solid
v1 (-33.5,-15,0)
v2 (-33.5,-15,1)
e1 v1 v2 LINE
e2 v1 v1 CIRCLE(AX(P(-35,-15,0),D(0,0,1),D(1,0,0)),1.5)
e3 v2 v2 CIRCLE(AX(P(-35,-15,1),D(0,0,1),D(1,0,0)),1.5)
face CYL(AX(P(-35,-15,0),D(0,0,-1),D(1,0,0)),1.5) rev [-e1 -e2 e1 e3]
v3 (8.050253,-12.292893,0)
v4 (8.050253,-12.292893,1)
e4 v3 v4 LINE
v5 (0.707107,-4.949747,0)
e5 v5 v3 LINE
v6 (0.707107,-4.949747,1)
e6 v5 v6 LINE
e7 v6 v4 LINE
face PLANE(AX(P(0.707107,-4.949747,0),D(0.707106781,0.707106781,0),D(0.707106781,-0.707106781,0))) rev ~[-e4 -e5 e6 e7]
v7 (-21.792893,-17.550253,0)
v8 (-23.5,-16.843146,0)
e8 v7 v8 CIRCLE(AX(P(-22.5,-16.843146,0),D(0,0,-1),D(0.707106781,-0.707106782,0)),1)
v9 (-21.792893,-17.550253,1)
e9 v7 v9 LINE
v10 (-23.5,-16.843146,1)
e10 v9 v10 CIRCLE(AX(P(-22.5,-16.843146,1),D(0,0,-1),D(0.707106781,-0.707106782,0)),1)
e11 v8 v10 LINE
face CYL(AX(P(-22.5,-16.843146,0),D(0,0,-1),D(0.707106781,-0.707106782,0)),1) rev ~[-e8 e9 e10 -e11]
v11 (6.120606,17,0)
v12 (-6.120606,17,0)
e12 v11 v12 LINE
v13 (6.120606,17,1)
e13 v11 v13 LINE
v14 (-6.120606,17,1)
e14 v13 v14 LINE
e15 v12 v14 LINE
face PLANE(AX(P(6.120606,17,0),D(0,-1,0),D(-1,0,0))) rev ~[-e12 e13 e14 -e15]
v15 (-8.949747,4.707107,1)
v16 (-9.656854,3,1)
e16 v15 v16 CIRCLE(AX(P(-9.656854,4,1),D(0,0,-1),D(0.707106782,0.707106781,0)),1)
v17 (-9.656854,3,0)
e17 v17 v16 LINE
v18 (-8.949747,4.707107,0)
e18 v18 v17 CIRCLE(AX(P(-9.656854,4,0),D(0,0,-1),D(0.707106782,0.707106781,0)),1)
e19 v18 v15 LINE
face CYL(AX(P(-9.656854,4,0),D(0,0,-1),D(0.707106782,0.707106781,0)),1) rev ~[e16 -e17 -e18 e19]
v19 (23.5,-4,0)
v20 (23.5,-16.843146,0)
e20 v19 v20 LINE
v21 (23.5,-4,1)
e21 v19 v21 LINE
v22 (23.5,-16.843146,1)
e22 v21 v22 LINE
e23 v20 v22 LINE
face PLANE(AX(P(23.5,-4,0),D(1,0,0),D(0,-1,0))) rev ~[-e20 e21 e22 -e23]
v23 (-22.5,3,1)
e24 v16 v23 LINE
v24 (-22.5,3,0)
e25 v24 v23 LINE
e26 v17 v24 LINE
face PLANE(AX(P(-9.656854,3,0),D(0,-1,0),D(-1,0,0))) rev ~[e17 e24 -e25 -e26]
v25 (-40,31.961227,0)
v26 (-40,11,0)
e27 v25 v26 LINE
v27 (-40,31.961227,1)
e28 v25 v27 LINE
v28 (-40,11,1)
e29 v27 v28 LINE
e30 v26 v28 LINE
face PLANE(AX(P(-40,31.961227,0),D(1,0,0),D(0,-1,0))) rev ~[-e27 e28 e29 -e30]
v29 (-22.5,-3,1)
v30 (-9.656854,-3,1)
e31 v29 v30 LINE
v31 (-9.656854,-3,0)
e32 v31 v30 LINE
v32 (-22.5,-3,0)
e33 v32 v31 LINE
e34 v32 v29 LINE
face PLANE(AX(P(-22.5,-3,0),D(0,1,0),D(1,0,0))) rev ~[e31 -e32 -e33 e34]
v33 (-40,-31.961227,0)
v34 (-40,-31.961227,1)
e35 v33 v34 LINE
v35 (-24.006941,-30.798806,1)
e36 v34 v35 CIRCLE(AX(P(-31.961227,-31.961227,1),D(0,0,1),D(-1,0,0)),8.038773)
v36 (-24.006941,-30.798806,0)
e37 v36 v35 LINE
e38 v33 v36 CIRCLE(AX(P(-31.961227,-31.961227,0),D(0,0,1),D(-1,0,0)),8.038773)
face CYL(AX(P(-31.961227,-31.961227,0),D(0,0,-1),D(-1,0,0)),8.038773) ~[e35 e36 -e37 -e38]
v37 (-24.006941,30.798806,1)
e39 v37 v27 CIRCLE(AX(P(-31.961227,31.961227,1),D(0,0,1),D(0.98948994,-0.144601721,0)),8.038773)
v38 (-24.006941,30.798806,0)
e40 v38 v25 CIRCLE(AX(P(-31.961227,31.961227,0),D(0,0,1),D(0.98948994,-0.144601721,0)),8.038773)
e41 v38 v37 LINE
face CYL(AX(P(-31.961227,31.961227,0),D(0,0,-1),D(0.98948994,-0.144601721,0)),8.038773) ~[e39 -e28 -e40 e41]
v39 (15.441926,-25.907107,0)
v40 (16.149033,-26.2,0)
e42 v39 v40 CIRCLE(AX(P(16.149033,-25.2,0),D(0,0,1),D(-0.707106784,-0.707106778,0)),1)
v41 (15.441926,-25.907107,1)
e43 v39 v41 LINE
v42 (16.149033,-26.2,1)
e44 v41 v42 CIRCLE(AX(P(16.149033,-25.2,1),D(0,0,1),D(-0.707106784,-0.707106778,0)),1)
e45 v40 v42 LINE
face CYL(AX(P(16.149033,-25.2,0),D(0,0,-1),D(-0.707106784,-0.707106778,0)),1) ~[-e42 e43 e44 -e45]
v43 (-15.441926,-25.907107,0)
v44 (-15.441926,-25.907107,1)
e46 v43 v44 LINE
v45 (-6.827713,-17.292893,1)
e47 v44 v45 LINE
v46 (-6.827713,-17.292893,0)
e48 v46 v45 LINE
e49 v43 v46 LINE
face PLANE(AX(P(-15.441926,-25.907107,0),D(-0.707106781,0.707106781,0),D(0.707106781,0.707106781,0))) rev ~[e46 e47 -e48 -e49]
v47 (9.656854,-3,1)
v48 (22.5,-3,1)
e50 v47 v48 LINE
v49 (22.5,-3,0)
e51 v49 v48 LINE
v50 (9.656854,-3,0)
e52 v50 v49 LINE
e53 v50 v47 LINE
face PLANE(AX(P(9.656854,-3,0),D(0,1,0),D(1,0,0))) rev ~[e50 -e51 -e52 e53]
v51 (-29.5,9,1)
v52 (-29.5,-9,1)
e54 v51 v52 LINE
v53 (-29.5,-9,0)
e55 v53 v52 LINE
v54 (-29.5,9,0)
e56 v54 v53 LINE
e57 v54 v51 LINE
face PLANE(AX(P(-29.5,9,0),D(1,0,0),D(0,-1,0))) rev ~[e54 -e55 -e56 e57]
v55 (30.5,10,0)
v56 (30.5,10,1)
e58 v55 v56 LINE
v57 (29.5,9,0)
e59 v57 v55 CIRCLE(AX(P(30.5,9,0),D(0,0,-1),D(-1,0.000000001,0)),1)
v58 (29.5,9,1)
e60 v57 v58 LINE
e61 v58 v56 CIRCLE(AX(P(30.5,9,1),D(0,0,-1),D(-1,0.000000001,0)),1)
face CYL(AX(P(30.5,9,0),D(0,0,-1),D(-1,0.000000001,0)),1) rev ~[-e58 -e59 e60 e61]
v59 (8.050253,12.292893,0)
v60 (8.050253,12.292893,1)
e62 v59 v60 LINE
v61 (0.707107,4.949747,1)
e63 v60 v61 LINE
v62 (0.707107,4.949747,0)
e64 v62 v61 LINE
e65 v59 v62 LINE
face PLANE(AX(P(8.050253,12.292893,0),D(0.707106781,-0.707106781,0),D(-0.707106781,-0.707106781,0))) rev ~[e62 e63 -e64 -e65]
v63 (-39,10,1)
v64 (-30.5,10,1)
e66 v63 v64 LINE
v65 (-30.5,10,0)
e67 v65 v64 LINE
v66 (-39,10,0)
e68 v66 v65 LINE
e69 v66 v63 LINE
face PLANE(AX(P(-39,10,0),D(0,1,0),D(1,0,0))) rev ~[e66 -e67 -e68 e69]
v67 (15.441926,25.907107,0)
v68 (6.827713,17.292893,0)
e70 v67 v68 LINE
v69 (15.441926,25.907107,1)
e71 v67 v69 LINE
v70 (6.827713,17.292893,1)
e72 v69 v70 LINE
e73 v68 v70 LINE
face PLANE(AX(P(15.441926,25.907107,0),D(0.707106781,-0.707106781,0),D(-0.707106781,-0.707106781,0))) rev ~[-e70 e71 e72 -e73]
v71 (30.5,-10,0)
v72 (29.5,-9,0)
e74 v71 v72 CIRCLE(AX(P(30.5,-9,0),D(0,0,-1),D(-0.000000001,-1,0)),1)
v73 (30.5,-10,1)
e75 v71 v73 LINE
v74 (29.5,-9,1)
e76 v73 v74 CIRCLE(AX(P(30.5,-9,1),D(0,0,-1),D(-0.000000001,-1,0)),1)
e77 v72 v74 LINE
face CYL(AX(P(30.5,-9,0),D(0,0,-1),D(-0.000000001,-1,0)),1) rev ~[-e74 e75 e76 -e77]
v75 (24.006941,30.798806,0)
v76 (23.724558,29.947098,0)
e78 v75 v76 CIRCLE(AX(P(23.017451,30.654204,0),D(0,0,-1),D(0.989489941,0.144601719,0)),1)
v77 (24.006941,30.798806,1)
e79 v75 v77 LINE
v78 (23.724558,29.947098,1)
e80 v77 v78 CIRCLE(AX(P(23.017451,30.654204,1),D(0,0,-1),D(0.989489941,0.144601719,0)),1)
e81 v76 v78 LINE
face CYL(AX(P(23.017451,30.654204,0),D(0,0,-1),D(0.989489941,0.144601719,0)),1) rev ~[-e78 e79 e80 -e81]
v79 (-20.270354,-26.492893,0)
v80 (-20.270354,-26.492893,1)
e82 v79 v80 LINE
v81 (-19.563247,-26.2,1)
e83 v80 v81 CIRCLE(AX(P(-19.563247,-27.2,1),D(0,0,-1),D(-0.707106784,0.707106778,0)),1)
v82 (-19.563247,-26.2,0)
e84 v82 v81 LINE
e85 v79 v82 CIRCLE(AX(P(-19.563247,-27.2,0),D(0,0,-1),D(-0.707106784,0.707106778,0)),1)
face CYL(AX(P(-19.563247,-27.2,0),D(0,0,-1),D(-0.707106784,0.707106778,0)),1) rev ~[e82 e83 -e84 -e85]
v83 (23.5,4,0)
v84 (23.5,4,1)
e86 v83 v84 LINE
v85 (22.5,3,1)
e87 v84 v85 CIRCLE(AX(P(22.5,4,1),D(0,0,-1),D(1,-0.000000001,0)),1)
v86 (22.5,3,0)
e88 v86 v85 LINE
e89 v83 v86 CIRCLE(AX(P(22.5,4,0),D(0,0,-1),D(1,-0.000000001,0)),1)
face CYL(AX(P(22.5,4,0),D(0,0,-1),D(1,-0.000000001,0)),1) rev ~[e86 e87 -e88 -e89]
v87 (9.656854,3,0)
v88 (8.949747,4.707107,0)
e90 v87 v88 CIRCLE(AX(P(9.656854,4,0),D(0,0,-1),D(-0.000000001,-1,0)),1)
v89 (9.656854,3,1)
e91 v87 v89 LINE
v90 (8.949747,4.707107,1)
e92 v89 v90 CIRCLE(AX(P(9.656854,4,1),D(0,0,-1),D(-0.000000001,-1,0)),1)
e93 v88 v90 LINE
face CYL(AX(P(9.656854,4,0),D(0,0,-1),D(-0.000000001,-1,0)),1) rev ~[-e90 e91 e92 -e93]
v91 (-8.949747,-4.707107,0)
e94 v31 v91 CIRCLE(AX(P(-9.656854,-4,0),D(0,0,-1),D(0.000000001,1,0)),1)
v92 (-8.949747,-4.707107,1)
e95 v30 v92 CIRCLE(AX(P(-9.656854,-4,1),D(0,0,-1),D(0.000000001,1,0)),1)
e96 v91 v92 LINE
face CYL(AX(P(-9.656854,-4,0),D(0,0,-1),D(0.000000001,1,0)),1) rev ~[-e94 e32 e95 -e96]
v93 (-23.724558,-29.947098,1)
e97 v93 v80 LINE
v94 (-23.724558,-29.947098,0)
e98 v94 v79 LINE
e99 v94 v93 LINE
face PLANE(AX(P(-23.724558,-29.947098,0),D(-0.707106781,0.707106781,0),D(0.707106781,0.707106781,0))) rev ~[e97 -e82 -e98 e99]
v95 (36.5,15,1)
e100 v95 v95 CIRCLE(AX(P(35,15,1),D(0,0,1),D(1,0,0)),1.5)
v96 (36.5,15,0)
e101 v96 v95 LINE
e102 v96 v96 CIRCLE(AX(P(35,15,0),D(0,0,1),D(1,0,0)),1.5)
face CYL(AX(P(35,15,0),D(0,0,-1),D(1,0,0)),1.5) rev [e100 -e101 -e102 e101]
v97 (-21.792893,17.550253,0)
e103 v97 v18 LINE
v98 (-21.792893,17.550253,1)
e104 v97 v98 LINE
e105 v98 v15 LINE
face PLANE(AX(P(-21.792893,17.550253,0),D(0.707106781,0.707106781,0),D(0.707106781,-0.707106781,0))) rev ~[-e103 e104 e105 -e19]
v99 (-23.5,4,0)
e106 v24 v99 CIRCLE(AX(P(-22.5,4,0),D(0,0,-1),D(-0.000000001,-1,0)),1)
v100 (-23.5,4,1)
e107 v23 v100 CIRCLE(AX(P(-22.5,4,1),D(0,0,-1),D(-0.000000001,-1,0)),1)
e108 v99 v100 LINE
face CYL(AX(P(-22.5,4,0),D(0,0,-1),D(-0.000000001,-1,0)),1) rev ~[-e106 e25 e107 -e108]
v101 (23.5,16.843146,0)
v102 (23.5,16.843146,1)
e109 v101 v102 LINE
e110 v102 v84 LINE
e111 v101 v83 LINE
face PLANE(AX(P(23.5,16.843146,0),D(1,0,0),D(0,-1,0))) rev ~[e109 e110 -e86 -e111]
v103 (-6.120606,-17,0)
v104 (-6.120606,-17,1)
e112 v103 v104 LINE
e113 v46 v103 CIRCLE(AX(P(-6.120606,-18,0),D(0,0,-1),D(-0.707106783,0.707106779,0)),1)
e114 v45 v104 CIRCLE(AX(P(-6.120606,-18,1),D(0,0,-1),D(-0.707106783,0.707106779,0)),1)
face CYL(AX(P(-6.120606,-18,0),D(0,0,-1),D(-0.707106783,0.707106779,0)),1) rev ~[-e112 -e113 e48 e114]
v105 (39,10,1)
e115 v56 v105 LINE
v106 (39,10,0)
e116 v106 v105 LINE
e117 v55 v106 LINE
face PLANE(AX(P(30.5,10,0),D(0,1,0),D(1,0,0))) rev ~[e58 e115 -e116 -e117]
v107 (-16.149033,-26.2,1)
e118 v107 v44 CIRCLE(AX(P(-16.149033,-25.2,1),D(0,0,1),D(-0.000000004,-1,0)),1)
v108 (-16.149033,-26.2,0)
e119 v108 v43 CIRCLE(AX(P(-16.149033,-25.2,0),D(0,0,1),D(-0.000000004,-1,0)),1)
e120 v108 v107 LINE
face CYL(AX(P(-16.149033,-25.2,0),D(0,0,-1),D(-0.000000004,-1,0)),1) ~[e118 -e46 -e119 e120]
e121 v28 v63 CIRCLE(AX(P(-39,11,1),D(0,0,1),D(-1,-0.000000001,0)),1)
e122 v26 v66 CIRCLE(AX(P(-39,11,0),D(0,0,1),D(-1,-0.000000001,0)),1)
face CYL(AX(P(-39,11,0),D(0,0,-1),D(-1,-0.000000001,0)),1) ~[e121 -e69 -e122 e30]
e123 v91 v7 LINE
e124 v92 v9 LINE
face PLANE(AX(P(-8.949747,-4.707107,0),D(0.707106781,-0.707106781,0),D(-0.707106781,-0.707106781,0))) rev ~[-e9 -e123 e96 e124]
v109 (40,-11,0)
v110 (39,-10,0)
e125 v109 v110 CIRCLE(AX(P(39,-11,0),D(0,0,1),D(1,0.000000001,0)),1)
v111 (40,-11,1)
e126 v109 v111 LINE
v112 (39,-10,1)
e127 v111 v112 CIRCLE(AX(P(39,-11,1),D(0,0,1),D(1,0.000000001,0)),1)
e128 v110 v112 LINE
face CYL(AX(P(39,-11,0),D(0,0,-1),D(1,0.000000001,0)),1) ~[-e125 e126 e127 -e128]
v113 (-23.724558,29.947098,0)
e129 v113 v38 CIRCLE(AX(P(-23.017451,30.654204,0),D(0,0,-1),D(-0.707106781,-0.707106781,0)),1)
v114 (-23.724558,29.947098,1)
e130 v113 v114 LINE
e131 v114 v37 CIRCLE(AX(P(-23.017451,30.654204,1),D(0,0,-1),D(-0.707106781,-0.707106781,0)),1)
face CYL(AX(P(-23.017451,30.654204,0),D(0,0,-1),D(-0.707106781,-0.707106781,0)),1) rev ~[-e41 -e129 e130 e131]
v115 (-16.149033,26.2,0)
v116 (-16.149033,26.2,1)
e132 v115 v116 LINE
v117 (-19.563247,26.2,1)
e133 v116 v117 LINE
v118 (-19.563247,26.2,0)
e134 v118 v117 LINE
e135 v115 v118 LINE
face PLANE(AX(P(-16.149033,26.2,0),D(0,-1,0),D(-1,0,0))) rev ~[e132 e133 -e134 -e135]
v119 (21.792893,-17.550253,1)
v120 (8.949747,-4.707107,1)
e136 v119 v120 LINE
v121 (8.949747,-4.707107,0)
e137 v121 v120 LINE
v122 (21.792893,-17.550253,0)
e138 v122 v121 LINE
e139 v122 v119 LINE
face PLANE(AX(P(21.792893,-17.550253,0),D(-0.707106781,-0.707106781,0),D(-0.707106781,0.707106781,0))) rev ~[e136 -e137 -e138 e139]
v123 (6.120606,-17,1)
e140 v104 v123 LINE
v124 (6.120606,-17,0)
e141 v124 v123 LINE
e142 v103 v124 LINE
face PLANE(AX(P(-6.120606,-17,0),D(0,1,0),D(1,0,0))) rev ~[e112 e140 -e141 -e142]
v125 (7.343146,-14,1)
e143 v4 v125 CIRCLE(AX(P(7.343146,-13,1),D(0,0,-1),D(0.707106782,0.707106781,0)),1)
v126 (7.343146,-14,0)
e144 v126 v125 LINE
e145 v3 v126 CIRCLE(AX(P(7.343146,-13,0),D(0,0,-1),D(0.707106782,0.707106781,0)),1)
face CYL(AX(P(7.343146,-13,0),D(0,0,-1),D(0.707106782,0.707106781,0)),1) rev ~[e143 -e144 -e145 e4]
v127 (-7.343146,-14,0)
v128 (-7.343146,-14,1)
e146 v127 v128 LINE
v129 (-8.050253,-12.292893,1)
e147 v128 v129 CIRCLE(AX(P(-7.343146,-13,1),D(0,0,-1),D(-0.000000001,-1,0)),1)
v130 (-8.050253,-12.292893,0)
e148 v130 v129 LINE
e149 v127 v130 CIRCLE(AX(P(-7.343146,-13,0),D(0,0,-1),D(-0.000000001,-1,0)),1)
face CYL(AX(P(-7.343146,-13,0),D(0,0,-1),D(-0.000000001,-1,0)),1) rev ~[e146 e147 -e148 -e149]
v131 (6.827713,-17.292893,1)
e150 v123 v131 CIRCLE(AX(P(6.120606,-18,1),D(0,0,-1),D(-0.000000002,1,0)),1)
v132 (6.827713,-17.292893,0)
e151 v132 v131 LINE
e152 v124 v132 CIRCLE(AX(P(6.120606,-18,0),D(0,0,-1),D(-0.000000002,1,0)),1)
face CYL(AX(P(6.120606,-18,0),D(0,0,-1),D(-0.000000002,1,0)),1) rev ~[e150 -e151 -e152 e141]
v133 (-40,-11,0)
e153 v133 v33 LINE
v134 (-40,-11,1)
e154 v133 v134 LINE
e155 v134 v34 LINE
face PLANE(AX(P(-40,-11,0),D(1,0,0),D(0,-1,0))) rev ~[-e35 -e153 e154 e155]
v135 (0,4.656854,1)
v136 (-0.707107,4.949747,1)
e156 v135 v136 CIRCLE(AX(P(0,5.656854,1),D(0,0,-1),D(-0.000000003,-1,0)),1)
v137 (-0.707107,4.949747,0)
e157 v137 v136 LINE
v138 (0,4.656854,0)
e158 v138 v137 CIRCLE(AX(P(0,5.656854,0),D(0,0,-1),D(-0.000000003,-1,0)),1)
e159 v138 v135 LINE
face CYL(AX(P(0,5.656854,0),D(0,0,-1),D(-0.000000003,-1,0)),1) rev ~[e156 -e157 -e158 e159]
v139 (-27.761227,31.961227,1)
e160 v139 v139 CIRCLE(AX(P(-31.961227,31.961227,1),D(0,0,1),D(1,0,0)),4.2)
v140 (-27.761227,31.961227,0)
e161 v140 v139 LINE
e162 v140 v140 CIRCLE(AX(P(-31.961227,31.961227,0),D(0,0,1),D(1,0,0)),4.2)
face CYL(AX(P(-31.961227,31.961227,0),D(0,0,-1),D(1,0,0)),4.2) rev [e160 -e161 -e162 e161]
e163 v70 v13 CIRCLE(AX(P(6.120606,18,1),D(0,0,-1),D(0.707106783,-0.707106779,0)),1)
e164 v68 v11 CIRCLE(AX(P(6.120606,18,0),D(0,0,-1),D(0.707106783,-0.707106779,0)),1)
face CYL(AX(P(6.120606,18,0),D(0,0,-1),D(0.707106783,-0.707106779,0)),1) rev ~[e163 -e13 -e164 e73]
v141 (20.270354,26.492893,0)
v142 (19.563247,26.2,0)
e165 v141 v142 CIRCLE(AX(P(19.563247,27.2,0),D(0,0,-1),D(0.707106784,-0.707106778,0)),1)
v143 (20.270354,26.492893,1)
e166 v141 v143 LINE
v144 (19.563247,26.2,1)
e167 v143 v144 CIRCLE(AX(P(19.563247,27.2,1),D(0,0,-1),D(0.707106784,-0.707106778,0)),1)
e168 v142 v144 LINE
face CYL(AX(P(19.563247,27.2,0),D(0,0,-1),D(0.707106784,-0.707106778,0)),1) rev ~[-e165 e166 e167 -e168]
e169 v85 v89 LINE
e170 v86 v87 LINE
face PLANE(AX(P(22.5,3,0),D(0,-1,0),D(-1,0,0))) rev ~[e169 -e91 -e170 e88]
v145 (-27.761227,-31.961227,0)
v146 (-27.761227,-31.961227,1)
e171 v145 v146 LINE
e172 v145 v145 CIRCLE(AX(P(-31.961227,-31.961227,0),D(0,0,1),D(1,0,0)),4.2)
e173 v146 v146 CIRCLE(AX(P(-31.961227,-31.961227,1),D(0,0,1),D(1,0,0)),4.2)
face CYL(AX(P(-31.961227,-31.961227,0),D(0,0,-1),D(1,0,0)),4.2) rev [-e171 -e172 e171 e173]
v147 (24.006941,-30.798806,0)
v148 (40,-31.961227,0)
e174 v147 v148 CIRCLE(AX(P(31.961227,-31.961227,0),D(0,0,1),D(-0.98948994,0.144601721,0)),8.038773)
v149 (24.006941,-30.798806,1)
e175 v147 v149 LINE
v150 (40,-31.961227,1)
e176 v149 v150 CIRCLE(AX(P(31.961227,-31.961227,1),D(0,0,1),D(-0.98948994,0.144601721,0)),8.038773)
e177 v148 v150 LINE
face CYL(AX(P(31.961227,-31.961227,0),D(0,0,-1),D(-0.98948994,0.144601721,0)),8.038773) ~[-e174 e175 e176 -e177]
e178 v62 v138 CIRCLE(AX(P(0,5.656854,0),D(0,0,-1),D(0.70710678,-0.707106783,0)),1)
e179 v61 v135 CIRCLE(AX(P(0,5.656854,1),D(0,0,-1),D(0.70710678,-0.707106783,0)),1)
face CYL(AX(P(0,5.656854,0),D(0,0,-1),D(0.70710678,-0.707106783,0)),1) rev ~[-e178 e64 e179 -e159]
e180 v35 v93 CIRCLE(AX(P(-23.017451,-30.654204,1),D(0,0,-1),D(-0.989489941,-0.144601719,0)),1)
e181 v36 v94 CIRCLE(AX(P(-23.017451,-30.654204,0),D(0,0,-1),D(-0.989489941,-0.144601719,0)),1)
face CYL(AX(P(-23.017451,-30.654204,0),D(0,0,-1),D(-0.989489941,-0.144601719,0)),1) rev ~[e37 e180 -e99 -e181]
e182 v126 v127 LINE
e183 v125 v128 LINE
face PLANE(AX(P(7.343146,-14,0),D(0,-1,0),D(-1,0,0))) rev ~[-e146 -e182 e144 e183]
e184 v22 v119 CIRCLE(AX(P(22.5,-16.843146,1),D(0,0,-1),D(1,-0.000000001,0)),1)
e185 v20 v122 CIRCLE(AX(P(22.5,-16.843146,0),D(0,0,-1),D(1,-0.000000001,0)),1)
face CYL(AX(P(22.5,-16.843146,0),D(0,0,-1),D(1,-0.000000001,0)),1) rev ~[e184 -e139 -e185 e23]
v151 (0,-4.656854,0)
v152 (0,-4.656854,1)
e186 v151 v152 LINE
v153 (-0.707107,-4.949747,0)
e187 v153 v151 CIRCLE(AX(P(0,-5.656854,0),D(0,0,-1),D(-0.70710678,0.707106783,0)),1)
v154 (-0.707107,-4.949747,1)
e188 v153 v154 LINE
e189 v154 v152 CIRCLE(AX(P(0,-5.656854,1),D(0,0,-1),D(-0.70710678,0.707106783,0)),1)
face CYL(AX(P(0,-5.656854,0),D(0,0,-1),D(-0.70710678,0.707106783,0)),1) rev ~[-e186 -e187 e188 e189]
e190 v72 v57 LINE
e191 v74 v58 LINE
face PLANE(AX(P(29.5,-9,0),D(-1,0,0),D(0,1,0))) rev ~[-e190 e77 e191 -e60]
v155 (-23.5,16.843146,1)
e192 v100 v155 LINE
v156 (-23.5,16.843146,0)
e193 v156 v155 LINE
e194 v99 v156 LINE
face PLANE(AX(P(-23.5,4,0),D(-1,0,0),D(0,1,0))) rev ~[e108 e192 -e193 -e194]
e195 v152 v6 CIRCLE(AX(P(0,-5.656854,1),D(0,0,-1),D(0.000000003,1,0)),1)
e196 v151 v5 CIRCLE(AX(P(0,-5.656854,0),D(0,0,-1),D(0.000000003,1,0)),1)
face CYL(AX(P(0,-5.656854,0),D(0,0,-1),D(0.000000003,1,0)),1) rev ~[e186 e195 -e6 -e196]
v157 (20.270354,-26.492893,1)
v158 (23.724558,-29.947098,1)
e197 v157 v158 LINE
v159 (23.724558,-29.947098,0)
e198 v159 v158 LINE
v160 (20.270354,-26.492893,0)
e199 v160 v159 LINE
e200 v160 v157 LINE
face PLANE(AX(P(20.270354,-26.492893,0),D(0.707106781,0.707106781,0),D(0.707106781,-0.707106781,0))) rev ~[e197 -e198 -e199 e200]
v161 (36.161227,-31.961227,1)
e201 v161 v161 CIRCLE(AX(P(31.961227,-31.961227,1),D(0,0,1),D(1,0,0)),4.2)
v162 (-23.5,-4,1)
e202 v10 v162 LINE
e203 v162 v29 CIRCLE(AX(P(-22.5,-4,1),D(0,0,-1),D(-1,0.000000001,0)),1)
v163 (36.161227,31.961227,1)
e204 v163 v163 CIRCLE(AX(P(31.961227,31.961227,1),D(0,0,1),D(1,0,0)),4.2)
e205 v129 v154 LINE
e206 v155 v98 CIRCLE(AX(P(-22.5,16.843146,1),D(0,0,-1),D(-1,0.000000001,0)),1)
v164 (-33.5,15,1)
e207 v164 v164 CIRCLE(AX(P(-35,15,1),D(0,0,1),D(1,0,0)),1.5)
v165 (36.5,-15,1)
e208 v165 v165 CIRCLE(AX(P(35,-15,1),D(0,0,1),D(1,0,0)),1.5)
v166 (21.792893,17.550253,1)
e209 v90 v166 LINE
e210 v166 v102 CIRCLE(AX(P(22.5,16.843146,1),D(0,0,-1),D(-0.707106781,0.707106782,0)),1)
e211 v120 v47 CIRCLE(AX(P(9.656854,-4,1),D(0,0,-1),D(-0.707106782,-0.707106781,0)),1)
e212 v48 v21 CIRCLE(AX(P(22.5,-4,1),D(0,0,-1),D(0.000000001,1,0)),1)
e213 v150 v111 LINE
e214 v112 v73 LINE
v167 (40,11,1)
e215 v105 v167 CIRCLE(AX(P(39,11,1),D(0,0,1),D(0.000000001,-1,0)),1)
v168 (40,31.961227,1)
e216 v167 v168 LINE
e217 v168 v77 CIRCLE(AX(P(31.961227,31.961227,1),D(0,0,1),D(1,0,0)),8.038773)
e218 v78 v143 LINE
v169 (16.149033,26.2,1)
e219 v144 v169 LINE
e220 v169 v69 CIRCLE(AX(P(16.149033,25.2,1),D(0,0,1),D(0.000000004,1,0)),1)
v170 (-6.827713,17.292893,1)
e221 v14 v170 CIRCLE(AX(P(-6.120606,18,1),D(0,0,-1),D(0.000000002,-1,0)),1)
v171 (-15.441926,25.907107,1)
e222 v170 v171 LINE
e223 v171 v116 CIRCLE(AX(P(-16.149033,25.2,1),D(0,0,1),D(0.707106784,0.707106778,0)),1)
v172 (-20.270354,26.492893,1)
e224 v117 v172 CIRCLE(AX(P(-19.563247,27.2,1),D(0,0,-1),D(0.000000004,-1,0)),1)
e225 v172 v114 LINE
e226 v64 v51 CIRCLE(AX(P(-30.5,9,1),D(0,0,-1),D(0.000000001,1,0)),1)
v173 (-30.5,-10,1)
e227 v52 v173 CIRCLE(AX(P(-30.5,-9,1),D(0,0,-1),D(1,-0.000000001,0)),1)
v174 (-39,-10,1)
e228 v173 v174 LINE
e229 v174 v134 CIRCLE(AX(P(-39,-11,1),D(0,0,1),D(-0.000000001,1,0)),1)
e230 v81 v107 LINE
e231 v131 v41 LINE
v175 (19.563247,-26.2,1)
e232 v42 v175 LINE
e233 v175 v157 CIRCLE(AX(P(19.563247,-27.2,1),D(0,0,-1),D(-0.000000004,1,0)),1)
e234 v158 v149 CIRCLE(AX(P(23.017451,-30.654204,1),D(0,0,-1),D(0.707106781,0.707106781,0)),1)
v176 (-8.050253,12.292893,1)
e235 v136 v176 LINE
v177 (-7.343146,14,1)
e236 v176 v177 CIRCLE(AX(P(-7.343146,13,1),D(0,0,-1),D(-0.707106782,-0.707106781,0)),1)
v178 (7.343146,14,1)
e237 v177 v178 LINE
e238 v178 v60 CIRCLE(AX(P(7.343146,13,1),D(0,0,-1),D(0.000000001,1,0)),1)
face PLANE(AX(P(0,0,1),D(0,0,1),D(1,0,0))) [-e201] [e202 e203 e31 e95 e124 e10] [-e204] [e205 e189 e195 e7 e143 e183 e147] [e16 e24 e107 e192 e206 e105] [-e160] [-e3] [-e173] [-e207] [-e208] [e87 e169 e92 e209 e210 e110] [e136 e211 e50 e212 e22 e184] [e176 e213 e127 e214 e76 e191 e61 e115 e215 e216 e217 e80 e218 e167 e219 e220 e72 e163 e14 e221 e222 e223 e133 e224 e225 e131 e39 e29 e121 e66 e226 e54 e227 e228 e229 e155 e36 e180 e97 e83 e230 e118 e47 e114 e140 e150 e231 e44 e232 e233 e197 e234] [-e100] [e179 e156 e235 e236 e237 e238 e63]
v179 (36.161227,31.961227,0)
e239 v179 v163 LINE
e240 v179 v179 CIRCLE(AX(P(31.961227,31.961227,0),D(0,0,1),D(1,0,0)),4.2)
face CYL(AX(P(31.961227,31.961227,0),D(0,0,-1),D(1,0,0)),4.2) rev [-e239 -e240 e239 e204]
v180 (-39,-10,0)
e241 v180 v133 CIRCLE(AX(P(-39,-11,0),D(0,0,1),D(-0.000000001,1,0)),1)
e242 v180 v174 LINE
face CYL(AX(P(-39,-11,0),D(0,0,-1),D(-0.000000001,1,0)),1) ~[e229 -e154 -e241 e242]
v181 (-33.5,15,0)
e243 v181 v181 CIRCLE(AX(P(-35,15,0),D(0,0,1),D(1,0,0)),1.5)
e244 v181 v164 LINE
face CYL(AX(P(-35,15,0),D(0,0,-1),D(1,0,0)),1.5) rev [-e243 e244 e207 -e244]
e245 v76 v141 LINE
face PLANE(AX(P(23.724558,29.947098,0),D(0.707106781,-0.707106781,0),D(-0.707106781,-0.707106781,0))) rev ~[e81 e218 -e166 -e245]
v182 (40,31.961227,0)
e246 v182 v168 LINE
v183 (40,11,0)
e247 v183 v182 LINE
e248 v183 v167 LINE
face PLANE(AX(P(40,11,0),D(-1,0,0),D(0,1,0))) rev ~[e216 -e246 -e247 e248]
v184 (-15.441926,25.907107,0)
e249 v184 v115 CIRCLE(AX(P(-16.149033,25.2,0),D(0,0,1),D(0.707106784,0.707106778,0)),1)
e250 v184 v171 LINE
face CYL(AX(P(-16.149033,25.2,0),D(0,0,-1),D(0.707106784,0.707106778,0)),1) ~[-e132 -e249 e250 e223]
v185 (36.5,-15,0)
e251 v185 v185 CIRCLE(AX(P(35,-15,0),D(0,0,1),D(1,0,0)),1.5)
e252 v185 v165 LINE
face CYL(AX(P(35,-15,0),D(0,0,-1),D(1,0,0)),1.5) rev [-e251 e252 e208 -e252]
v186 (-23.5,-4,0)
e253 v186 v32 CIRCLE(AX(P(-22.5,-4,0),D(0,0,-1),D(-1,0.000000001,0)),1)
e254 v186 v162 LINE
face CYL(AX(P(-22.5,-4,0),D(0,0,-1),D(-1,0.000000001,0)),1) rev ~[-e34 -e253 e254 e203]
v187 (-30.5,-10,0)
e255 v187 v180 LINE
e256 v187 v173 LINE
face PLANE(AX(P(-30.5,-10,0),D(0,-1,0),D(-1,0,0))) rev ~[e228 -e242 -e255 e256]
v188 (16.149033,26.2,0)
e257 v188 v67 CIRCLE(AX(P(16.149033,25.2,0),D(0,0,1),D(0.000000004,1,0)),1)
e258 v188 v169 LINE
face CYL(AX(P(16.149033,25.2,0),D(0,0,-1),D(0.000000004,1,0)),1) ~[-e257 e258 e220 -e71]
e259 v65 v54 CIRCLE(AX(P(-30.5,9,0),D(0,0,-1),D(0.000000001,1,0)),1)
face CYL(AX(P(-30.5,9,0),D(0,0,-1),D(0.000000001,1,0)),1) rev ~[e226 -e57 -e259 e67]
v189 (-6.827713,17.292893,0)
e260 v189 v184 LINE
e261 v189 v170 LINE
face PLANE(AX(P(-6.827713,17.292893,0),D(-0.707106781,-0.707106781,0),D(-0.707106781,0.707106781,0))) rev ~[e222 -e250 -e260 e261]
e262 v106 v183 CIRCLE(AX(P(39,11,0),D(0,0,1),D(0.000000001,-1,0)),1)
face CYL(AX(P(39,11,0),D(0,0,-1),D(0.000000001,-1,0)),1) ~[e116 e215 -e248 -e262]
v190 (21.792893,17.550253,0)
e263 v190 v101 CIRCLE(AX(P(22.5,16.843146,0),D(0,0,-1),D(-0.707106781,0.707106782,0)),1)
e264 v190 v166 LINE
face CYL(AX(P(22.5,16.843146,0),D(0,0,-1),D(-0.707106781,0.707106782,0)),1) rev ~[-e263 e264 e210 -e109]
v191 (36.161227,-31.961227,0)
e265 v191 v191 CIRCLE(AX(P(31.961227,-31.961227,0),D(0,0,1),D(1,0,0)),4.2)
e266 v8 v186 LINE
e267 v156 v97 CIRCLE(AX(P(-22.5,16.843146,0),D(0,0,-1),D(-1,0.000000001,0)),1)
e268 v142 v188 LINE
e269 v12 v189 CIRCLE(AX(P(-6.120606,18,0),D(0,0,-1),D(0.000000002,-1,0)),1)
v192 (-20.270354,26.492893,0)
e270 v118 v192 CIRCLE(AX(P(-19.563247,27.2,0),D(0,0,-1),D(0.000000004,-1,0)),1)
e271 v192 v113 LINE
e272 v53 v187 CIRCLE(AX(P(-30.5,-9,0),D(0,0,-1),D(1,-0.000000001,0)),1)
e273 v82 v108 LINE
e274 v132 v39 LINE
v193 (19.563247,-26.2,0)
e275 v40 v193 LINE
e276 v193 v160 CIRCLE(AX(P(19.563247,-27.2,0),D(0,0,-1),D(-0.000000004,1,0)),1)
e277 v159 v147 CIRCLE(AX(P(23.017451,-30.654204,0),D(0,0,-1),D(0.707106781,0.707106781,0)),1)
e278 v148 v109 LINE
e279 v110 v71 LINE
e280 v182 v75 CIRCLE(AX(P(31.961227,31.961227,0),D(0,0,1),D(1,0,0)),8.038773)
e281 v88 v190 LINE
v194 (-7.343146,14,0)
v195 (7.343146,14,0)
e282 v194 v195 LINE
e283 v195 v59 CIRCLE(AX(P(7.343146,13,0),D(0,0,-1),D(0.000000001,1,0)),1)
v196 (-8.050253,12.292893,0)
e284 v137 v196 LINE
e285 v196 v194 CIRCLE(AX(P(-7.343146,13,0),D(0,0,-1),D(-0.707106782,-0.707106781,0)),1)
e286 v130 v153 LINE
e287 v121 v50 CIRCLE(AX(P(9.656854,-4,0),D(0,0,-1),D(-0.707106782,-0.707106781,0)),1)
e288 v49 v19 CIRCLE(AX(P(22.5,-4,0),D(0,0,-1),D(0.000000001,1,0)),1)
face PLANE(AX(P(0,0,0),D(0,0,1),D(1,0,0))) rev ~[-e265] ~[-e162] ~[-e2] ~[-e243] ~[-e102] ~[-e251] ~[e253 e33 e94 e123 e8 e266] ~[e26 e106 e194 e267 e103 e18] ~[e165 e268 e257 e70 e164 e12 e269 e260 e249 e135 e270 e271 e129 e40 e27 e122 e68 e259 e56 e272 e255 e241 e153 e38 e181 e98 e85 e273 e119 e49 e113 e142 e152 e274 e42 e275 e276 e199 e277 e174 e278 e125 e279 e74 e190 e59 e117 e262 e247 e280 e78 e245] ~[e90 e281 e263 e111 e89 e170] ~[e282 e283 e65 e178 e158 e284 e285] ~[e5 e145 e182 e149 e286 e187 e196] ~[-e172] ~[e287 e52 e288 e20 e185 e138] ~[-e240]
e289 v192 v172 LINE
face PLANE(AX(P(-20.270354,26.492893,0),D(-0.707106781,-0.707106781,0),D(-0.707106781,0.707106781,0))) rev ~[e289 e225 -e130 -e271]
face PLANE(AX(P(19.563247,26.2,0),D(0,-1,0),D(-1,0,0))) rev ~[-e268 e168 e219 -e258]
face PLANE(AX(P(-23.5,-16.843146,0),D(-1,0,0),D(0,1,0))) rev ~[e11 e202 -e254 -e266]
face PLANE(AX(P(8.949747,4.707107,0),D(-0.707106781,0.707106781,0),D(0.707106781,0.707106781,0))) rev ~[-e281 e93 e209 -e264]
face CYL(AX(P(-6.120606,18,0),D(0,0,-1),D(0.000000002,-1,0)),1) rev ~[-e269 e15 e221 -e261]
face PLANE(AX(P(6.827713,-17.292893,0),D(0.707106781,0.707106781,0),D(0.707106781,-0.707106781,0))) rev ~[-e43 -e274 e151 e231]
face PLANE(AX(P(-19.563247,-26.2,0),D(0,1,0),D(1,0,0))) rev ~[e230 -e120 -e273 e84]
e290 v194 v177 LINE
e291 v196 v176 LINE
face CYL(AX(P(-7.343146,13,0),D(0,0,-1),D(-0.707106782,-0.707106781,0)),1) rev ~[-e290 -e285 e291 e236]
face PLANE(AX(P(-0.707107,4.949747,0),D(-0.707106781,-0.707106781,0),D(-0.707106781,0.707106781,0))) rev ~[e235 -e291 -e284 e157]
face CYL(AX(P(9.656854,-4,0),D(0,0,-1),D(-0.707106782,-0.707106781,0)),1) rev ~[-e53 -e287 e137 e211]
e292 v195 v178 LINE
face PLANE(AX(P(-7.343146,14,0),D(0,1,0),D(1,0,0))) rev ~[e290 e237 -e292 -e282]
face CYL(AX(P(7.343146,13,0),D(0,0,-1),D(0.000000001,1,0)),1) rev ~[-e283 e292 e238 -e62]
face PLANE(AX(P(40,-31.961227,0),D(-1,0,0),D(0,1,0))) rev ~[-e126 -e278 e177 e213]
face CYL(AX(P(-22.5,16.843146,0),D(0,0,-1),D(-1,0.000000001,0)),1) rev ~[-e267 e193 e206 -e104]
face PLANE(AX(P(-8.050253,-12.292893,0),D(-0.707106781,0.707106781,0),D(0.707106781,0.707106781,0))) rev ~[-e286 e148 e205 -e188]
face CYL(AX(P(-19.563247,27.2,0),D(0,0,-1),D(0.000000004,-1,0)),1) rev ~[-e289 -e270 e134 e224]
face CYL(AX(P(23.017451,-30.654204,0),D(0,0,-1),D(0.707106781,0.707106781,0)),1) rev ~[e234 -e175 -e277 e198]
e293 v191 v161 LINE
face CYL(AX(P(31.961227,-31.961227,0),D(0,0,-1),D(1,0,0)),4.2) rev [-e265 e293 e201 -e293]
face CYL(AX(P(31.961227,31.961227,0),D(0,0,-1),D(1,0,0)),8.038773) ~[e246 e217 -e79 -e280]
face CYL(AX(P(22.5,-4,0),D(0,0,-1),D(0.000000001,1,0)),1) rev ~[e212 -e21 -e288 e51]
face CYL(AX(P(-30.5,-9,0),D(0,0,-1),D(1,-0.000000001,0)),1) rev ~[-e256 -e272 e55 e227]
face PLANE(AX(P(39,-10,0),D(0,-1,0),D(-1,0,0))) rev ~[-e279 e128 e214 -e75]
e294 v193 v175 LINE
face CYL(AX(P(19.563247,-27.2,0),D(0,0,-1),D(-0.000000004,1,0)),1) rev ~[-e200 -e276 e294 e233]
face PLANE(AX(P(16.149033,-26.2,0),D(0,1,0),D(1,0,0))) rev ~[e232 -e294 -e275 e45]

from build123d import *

# Parameters (mm, degrees)
MODEL_R         = 4.2
MODEL_R_2       = 1.5
EXTRUDE_1_DEPTH = 1


with BuildPart() as part:
    # Model → Бобышка-Вытянуть1 (new body)
    with BuildSketch(Plane.XY):
        with BuildLine():
            ThreePointArc((-40, 11), (-39.707106781, 10.292893219), (-39, 10))
            Line((-39, 10), (-30.5, 10))
            ThreePointArc((-30.5, 10), (-29.792893219, 9.707106781), (-29.5, 9))
            Line((-29.5, 9), (-29.5, 0))
            Line((-29.5, 0), (-29.5, -9))
            ThreePointArc((-29.5, -9), (-29.792893219, -9.707106781), (-30.5, -10))
            Line((-30.5, -10), (-39, -10))
            ThreePointArc((-39, -10), (-39.707106781, -10.292893219), (-40, -11))
            Line((-40, -11), (-40, -15))
            Line((-40, -15), (-40, -19))
            Line((-40, -19), (-40, -31.96122651))
            ThreePointArc((-40, -31.96122651), (-31.378483084, -39.978850181), (-24.006941008, -30.798806025))
            ThreePointArc((-24.006941008, -30.798806025), (-23.966641223, -30.339501194), (-23.724557848, -29.947097523))
            Line((-23.724557848, -29.947097523), (-20.270353544, -26.492893219))
            ThreePointArc((-20.270353544, -26.492893219), (-19.945930196, -26.276120467), (-19.563246763, -26.2))
            Line((-19.563246763, -26.2), (-16.149033201, -26.2))
            ThreePointArc((-16.149033201, -26.2), (-15.766349768, -26.123879533), (-15.44192642, -25.907106781))
            Line((-15.44192642, -25.907106781), (-6.827712857, -17.292893219))
            ThreePointArc((-6.827712857, -17.292893219), (-6.503289508, -17.076120467), (-6.120606076, -17))
            Line((-6.120606076, -17), (0, -17))
            Line((0, -17), (6.120606076, -17))
            ThreePointArc((6.120606076, -17), (6.503289508, -17.076120467), (6.827712857, -17.292893219))
            Line((6.827712857, -17.292893219), (15.44192642, -25.907106781))
            ThreePointArc((15.44192642, -25.907106781), (15.766349768, -26.123879533), (16.149033201, -26.2))
            Line((16.149033201, -26.2), (19.563246763, -26.2))
            ThreePointArc((19.563246763, -26.2), (19.945930196, -26.276120467), (20.270353544, -26.492893219))
            Line((20.270353544, -26.492893219), (23.724557848, -29.947097523))
            ThreePointArc((23.724557848, -29.947097523), (23.966641223, -30.339501194), (24.006941008, -30.798806025))
            ThreePointArc((24.006941008, -30.798806025), (31.378483084, -39.978850181), (40, -31.96122651))
            Line((40, -31.96122651), (40, -19))
            Line((40, -19), (40, -15))
            Line((40, -15), (40, -11))
            ThreePointArc((40, -11), (39.707106781, -10.292893219), (39, -10))
            Line((39, -10), (30.5, -10))
            ThreePointArc((30.5, -10), (29.792893219, -9.707106781), (29.5, -9))
            Line((29.5, -9), (29.5, 0))
            Line((29.5, 0), (29.5, 9))
            ThreePointArc((29.5, 9), (29.792893219, 9.707106781), (30.5, 10))
            Line((30.5, 10), (39, 10))
            ThreePointArc((39, 10), (39.707106781, 10.292893219), (40, 11))
            Line((40, 11), (40, 15))
            Line((40, 15), (40, 19))
            Line((40, 19), (40, 31.96122651))
            ThreePointArc((40, 31.96122651), (31.378483084, 39.978850181), (24.006941008, 30.798806025))
            ThreePointArc((24.006941008, 30.798806025), (23.966641223, 30.339501194), (23.724557848, 29.947097523))
            Line((23.724557848, 29.947097523), (20.270353544, 26.492893219))
            ThreePointArc((20.270353544, 26.492893219), (19.945930196, 26.276120467), (19.563246763, 26.2))
            Line((19.563246763, 26.2), (16.149033201, 26.2))
            ThreePointArc((16.149033201, 26.2), (15.766349768, 26.123879533), (15.44192642, 25.907106781))
            Line((15.44192642, 25.907106781), (6.827712857, 17.292893219))
            ThreePointArc((6.827712857, 17.292893219), (6.503289508, 17.076120467), (6.120606076, 17))
            Line((6.120606076, 17), (0, 17))
            Line((0, 17), (-6.120606076, 17))
            ThreePointArc((-6.120606076, 17), (-6.503289508, 17.076120467), (-6.827712857, 17.292893219))
            Line((-6.827712857, 17.292893219), (-15.44192642, 25.907106781))
            ThreePointArc((-15.44192642, 25.907106781), (-15.766349768, 26.123879533), (-16.149033201, 26.2))
            Line((-16.149033201, 26.2), (-19.563246763, 26.2))
            ThreePointArc((-19.563246763, 26.2), (-19.945930196, 26.276120467), (-20.270353544, 26.492893219))
            Line((-20.270353544, 26.492893219), (-23.724557848, 29.947097523))
            ThreePointArc((-23.724557848, 29.947097523), (-23.966641223, 30.339501194), (-24.006941008, 30.798806025))
            ThreePointArc((-24.006941008, 30.798806025), (-31.378483084, 39.978850181), (-40, 31.96122651))
            Line((-40, 31.96122651), (-40, 19))
            Line((-40, 19), (-40, 15))
            Line((-40, 15), (-40, 11))
        make_face()
        with Locations((-31.96122651, -31.96122651)):
            Circle(MODEL_R, mode=Mode.SUBTRACT)
        with Locations((-35, -15)):
            Circle(MODEL_R_2, mode=Mode.SUBTRACT)
        with BuildLine():
            ThreePointArc((-23.5, -4), (-23.207106781, -3.292893219), (-22.5, -3))
            Line((-22.5, -3), (-9.656854249, -3))
            ThreePointArc((-9.656854249, -3), (-8.732974717, -3.617316568), (-8.949747468, -4.707106781))
            Line((-8.949747468, -4.707106781), (-21.792893219, -17.550252532))
            ThreePointArc((-21.792893219, -17.550252532), (-22.882683432, -17.767025283), (-23.5, -16.843145751))
            Line((-23.5, -16.843145751), (-23.5, -6.777502295))
            Line((-23.5, -6.777502295), (-23.5, -4))
        make_face(mode=Mode.SUBTRACT)
        with Locations((31.96122651, -31.96122651)):
            Circle(MODEL_R, mode=Mode.SUBTRACT)
        with BuildLine():
            Line((9.656854249, -3), (22.5, -3))
            ThreePointArc((22.5, -3), (23.207106781, -3.292893219), (23.5, -4))
            Line((23.5, -4), (23.5, -6.777502295))
            Line((23.5, -6.777502295), (23.5, -16.843145751))
            ThreePointArc((23.5, -16.843145751), (22.882683432, -17.767025283), (21.792893219, -17.550252532))
            Line((21.792893219, -17.550252532), (8.949747468, -4.707106781))
            ThreePointArc((8.949747468, -4.707106781), (8.732974717, -3.617316568), (9.656854249, -3))
        make_face(mode=Mode.SUBTRACT)
        with BuildLine():
            Line((7.343145751, -14), (0, -14))
            Line((0, -14), (-7.343145751, -14))
            ThreePointArc((-7.343145751, -14), (-8.267025283, -13.382683432), (-8.050252532, -12.292893219))
            Line((-8.050252532, -12.292893219), (-0.707106781, -4.949747468))
            ThreePointArc((-0.707106781, -4.949747468), (-0.382683432, -4.732974717), (0, -4.656854249))
            ThreePointArc((0, -4.656854249), (0.382683432, -4.732974717), (0.707106781, -4.949747468))
            Line((0.707106781, -4.949747468), (8.050252532, -12.292893219))
            ThreePointArc((8.050252532, -12.292893219), (8.267025283, -13.382683432), (7.343145751, -14))
        make_face(mode=Mode.SUBTRACT)
        with Locations((35, -15)):
            Circle(MODEL_R_2, mode=Mode.SUBTRACT)
        with Locations((-35, 15)):
            Circle(MODEL_R_2, mode=Mode.SUBTRACT)
        with BuildLine():
            Line((-7.343145751, 14), (0, 14))
            Line((0, 14), (7.343145751, 14))
            ThreePointArc((7.343145751, 14), (8.267025283, 13.382683432), (8.050252532, 12.292893219))
            Line((8.050252532, 12.292893219), (0.707106781, 4.949747468))
            ThreePointArc((0.707106781, 4.949747468), (0.382683432, 4.732974717), (0, 4.656854249))
            ThreePointArc((0, 4.656854249), (-0.382683432, 4.732974717), (-0.707106781, 4.949747468))
            Line((-0.707106781, 4.949747468), (-8.050252532, 12.292893219))
            ThreePointArc((-8.050252532, 12.292893219), (-8.267025283, 13.382683432), (-7.343145751, 14))
        make_face(mode=Mode.SUBTRACT)
        with BuildLine():
            Line((-9.656854249, 3), (-22.5, 3))
            ThreePointArc((-22.5, 3), (-23.207106781, 3.292893219), (-23.5, 4))
            Line((-23.5, 4), (-23.5, 6.777502295))
            Line((-23.5, 6.777502295), (-23.5, 16.843145751))
            ThreePointArc((-23.5, 16.843145751), (-22.882683432, 17.767025283), (-21.792893219, 17.550252532))
            Line((-21.792893219, 17.550252532), (-8.949747468, 4.707106781))
            ThreePointArc((-8.949747468, 4.707106781), (-8.732974717, 3.617316568), (-9.656854249, 3))
        make_face(mode=Mode.SUBTRACT)
        with Locations((-31.96122651, 31.96122651)):
            Circle(MODEL_R, mode=Mode.SUBTRACT)
        with BuildLine():
            ThreePointArc((23.5, 4), (23.207106781, 3.292893219), (22.5, 3))
            Line((22.5, 3), (9.656854249, 3))
            ThreePointArc((9.656854249, 3), (8.732974717, 3.617316568), (8.949747468, 4.707106781))
            Line((8.949747468, 4.707106781), (21.792893219, 17.550252532))
            ThreePointArc((21.792893219, 17.550252532), (22.882683432, 17.767025283), (23.5, 16.843145751))
            Line((23.5, 16.843145751), (23.5, 6.777502295))
            Line((23.5, 6.777502295), (23.5, 4))
        make_face(mode=Mode.SUBTRACT)
        with Locations((35, 15)):
            Circle(MODEL_R_2, mode=Mode.SUBTRACT)
        with Locations((31.96122651, 31.96122651)):
            Circle(MODEL_R, mode=Mode.SUBTRACT)
    extrude(amount=EXTRUDE_1_DEPTH)


solid = part.part
